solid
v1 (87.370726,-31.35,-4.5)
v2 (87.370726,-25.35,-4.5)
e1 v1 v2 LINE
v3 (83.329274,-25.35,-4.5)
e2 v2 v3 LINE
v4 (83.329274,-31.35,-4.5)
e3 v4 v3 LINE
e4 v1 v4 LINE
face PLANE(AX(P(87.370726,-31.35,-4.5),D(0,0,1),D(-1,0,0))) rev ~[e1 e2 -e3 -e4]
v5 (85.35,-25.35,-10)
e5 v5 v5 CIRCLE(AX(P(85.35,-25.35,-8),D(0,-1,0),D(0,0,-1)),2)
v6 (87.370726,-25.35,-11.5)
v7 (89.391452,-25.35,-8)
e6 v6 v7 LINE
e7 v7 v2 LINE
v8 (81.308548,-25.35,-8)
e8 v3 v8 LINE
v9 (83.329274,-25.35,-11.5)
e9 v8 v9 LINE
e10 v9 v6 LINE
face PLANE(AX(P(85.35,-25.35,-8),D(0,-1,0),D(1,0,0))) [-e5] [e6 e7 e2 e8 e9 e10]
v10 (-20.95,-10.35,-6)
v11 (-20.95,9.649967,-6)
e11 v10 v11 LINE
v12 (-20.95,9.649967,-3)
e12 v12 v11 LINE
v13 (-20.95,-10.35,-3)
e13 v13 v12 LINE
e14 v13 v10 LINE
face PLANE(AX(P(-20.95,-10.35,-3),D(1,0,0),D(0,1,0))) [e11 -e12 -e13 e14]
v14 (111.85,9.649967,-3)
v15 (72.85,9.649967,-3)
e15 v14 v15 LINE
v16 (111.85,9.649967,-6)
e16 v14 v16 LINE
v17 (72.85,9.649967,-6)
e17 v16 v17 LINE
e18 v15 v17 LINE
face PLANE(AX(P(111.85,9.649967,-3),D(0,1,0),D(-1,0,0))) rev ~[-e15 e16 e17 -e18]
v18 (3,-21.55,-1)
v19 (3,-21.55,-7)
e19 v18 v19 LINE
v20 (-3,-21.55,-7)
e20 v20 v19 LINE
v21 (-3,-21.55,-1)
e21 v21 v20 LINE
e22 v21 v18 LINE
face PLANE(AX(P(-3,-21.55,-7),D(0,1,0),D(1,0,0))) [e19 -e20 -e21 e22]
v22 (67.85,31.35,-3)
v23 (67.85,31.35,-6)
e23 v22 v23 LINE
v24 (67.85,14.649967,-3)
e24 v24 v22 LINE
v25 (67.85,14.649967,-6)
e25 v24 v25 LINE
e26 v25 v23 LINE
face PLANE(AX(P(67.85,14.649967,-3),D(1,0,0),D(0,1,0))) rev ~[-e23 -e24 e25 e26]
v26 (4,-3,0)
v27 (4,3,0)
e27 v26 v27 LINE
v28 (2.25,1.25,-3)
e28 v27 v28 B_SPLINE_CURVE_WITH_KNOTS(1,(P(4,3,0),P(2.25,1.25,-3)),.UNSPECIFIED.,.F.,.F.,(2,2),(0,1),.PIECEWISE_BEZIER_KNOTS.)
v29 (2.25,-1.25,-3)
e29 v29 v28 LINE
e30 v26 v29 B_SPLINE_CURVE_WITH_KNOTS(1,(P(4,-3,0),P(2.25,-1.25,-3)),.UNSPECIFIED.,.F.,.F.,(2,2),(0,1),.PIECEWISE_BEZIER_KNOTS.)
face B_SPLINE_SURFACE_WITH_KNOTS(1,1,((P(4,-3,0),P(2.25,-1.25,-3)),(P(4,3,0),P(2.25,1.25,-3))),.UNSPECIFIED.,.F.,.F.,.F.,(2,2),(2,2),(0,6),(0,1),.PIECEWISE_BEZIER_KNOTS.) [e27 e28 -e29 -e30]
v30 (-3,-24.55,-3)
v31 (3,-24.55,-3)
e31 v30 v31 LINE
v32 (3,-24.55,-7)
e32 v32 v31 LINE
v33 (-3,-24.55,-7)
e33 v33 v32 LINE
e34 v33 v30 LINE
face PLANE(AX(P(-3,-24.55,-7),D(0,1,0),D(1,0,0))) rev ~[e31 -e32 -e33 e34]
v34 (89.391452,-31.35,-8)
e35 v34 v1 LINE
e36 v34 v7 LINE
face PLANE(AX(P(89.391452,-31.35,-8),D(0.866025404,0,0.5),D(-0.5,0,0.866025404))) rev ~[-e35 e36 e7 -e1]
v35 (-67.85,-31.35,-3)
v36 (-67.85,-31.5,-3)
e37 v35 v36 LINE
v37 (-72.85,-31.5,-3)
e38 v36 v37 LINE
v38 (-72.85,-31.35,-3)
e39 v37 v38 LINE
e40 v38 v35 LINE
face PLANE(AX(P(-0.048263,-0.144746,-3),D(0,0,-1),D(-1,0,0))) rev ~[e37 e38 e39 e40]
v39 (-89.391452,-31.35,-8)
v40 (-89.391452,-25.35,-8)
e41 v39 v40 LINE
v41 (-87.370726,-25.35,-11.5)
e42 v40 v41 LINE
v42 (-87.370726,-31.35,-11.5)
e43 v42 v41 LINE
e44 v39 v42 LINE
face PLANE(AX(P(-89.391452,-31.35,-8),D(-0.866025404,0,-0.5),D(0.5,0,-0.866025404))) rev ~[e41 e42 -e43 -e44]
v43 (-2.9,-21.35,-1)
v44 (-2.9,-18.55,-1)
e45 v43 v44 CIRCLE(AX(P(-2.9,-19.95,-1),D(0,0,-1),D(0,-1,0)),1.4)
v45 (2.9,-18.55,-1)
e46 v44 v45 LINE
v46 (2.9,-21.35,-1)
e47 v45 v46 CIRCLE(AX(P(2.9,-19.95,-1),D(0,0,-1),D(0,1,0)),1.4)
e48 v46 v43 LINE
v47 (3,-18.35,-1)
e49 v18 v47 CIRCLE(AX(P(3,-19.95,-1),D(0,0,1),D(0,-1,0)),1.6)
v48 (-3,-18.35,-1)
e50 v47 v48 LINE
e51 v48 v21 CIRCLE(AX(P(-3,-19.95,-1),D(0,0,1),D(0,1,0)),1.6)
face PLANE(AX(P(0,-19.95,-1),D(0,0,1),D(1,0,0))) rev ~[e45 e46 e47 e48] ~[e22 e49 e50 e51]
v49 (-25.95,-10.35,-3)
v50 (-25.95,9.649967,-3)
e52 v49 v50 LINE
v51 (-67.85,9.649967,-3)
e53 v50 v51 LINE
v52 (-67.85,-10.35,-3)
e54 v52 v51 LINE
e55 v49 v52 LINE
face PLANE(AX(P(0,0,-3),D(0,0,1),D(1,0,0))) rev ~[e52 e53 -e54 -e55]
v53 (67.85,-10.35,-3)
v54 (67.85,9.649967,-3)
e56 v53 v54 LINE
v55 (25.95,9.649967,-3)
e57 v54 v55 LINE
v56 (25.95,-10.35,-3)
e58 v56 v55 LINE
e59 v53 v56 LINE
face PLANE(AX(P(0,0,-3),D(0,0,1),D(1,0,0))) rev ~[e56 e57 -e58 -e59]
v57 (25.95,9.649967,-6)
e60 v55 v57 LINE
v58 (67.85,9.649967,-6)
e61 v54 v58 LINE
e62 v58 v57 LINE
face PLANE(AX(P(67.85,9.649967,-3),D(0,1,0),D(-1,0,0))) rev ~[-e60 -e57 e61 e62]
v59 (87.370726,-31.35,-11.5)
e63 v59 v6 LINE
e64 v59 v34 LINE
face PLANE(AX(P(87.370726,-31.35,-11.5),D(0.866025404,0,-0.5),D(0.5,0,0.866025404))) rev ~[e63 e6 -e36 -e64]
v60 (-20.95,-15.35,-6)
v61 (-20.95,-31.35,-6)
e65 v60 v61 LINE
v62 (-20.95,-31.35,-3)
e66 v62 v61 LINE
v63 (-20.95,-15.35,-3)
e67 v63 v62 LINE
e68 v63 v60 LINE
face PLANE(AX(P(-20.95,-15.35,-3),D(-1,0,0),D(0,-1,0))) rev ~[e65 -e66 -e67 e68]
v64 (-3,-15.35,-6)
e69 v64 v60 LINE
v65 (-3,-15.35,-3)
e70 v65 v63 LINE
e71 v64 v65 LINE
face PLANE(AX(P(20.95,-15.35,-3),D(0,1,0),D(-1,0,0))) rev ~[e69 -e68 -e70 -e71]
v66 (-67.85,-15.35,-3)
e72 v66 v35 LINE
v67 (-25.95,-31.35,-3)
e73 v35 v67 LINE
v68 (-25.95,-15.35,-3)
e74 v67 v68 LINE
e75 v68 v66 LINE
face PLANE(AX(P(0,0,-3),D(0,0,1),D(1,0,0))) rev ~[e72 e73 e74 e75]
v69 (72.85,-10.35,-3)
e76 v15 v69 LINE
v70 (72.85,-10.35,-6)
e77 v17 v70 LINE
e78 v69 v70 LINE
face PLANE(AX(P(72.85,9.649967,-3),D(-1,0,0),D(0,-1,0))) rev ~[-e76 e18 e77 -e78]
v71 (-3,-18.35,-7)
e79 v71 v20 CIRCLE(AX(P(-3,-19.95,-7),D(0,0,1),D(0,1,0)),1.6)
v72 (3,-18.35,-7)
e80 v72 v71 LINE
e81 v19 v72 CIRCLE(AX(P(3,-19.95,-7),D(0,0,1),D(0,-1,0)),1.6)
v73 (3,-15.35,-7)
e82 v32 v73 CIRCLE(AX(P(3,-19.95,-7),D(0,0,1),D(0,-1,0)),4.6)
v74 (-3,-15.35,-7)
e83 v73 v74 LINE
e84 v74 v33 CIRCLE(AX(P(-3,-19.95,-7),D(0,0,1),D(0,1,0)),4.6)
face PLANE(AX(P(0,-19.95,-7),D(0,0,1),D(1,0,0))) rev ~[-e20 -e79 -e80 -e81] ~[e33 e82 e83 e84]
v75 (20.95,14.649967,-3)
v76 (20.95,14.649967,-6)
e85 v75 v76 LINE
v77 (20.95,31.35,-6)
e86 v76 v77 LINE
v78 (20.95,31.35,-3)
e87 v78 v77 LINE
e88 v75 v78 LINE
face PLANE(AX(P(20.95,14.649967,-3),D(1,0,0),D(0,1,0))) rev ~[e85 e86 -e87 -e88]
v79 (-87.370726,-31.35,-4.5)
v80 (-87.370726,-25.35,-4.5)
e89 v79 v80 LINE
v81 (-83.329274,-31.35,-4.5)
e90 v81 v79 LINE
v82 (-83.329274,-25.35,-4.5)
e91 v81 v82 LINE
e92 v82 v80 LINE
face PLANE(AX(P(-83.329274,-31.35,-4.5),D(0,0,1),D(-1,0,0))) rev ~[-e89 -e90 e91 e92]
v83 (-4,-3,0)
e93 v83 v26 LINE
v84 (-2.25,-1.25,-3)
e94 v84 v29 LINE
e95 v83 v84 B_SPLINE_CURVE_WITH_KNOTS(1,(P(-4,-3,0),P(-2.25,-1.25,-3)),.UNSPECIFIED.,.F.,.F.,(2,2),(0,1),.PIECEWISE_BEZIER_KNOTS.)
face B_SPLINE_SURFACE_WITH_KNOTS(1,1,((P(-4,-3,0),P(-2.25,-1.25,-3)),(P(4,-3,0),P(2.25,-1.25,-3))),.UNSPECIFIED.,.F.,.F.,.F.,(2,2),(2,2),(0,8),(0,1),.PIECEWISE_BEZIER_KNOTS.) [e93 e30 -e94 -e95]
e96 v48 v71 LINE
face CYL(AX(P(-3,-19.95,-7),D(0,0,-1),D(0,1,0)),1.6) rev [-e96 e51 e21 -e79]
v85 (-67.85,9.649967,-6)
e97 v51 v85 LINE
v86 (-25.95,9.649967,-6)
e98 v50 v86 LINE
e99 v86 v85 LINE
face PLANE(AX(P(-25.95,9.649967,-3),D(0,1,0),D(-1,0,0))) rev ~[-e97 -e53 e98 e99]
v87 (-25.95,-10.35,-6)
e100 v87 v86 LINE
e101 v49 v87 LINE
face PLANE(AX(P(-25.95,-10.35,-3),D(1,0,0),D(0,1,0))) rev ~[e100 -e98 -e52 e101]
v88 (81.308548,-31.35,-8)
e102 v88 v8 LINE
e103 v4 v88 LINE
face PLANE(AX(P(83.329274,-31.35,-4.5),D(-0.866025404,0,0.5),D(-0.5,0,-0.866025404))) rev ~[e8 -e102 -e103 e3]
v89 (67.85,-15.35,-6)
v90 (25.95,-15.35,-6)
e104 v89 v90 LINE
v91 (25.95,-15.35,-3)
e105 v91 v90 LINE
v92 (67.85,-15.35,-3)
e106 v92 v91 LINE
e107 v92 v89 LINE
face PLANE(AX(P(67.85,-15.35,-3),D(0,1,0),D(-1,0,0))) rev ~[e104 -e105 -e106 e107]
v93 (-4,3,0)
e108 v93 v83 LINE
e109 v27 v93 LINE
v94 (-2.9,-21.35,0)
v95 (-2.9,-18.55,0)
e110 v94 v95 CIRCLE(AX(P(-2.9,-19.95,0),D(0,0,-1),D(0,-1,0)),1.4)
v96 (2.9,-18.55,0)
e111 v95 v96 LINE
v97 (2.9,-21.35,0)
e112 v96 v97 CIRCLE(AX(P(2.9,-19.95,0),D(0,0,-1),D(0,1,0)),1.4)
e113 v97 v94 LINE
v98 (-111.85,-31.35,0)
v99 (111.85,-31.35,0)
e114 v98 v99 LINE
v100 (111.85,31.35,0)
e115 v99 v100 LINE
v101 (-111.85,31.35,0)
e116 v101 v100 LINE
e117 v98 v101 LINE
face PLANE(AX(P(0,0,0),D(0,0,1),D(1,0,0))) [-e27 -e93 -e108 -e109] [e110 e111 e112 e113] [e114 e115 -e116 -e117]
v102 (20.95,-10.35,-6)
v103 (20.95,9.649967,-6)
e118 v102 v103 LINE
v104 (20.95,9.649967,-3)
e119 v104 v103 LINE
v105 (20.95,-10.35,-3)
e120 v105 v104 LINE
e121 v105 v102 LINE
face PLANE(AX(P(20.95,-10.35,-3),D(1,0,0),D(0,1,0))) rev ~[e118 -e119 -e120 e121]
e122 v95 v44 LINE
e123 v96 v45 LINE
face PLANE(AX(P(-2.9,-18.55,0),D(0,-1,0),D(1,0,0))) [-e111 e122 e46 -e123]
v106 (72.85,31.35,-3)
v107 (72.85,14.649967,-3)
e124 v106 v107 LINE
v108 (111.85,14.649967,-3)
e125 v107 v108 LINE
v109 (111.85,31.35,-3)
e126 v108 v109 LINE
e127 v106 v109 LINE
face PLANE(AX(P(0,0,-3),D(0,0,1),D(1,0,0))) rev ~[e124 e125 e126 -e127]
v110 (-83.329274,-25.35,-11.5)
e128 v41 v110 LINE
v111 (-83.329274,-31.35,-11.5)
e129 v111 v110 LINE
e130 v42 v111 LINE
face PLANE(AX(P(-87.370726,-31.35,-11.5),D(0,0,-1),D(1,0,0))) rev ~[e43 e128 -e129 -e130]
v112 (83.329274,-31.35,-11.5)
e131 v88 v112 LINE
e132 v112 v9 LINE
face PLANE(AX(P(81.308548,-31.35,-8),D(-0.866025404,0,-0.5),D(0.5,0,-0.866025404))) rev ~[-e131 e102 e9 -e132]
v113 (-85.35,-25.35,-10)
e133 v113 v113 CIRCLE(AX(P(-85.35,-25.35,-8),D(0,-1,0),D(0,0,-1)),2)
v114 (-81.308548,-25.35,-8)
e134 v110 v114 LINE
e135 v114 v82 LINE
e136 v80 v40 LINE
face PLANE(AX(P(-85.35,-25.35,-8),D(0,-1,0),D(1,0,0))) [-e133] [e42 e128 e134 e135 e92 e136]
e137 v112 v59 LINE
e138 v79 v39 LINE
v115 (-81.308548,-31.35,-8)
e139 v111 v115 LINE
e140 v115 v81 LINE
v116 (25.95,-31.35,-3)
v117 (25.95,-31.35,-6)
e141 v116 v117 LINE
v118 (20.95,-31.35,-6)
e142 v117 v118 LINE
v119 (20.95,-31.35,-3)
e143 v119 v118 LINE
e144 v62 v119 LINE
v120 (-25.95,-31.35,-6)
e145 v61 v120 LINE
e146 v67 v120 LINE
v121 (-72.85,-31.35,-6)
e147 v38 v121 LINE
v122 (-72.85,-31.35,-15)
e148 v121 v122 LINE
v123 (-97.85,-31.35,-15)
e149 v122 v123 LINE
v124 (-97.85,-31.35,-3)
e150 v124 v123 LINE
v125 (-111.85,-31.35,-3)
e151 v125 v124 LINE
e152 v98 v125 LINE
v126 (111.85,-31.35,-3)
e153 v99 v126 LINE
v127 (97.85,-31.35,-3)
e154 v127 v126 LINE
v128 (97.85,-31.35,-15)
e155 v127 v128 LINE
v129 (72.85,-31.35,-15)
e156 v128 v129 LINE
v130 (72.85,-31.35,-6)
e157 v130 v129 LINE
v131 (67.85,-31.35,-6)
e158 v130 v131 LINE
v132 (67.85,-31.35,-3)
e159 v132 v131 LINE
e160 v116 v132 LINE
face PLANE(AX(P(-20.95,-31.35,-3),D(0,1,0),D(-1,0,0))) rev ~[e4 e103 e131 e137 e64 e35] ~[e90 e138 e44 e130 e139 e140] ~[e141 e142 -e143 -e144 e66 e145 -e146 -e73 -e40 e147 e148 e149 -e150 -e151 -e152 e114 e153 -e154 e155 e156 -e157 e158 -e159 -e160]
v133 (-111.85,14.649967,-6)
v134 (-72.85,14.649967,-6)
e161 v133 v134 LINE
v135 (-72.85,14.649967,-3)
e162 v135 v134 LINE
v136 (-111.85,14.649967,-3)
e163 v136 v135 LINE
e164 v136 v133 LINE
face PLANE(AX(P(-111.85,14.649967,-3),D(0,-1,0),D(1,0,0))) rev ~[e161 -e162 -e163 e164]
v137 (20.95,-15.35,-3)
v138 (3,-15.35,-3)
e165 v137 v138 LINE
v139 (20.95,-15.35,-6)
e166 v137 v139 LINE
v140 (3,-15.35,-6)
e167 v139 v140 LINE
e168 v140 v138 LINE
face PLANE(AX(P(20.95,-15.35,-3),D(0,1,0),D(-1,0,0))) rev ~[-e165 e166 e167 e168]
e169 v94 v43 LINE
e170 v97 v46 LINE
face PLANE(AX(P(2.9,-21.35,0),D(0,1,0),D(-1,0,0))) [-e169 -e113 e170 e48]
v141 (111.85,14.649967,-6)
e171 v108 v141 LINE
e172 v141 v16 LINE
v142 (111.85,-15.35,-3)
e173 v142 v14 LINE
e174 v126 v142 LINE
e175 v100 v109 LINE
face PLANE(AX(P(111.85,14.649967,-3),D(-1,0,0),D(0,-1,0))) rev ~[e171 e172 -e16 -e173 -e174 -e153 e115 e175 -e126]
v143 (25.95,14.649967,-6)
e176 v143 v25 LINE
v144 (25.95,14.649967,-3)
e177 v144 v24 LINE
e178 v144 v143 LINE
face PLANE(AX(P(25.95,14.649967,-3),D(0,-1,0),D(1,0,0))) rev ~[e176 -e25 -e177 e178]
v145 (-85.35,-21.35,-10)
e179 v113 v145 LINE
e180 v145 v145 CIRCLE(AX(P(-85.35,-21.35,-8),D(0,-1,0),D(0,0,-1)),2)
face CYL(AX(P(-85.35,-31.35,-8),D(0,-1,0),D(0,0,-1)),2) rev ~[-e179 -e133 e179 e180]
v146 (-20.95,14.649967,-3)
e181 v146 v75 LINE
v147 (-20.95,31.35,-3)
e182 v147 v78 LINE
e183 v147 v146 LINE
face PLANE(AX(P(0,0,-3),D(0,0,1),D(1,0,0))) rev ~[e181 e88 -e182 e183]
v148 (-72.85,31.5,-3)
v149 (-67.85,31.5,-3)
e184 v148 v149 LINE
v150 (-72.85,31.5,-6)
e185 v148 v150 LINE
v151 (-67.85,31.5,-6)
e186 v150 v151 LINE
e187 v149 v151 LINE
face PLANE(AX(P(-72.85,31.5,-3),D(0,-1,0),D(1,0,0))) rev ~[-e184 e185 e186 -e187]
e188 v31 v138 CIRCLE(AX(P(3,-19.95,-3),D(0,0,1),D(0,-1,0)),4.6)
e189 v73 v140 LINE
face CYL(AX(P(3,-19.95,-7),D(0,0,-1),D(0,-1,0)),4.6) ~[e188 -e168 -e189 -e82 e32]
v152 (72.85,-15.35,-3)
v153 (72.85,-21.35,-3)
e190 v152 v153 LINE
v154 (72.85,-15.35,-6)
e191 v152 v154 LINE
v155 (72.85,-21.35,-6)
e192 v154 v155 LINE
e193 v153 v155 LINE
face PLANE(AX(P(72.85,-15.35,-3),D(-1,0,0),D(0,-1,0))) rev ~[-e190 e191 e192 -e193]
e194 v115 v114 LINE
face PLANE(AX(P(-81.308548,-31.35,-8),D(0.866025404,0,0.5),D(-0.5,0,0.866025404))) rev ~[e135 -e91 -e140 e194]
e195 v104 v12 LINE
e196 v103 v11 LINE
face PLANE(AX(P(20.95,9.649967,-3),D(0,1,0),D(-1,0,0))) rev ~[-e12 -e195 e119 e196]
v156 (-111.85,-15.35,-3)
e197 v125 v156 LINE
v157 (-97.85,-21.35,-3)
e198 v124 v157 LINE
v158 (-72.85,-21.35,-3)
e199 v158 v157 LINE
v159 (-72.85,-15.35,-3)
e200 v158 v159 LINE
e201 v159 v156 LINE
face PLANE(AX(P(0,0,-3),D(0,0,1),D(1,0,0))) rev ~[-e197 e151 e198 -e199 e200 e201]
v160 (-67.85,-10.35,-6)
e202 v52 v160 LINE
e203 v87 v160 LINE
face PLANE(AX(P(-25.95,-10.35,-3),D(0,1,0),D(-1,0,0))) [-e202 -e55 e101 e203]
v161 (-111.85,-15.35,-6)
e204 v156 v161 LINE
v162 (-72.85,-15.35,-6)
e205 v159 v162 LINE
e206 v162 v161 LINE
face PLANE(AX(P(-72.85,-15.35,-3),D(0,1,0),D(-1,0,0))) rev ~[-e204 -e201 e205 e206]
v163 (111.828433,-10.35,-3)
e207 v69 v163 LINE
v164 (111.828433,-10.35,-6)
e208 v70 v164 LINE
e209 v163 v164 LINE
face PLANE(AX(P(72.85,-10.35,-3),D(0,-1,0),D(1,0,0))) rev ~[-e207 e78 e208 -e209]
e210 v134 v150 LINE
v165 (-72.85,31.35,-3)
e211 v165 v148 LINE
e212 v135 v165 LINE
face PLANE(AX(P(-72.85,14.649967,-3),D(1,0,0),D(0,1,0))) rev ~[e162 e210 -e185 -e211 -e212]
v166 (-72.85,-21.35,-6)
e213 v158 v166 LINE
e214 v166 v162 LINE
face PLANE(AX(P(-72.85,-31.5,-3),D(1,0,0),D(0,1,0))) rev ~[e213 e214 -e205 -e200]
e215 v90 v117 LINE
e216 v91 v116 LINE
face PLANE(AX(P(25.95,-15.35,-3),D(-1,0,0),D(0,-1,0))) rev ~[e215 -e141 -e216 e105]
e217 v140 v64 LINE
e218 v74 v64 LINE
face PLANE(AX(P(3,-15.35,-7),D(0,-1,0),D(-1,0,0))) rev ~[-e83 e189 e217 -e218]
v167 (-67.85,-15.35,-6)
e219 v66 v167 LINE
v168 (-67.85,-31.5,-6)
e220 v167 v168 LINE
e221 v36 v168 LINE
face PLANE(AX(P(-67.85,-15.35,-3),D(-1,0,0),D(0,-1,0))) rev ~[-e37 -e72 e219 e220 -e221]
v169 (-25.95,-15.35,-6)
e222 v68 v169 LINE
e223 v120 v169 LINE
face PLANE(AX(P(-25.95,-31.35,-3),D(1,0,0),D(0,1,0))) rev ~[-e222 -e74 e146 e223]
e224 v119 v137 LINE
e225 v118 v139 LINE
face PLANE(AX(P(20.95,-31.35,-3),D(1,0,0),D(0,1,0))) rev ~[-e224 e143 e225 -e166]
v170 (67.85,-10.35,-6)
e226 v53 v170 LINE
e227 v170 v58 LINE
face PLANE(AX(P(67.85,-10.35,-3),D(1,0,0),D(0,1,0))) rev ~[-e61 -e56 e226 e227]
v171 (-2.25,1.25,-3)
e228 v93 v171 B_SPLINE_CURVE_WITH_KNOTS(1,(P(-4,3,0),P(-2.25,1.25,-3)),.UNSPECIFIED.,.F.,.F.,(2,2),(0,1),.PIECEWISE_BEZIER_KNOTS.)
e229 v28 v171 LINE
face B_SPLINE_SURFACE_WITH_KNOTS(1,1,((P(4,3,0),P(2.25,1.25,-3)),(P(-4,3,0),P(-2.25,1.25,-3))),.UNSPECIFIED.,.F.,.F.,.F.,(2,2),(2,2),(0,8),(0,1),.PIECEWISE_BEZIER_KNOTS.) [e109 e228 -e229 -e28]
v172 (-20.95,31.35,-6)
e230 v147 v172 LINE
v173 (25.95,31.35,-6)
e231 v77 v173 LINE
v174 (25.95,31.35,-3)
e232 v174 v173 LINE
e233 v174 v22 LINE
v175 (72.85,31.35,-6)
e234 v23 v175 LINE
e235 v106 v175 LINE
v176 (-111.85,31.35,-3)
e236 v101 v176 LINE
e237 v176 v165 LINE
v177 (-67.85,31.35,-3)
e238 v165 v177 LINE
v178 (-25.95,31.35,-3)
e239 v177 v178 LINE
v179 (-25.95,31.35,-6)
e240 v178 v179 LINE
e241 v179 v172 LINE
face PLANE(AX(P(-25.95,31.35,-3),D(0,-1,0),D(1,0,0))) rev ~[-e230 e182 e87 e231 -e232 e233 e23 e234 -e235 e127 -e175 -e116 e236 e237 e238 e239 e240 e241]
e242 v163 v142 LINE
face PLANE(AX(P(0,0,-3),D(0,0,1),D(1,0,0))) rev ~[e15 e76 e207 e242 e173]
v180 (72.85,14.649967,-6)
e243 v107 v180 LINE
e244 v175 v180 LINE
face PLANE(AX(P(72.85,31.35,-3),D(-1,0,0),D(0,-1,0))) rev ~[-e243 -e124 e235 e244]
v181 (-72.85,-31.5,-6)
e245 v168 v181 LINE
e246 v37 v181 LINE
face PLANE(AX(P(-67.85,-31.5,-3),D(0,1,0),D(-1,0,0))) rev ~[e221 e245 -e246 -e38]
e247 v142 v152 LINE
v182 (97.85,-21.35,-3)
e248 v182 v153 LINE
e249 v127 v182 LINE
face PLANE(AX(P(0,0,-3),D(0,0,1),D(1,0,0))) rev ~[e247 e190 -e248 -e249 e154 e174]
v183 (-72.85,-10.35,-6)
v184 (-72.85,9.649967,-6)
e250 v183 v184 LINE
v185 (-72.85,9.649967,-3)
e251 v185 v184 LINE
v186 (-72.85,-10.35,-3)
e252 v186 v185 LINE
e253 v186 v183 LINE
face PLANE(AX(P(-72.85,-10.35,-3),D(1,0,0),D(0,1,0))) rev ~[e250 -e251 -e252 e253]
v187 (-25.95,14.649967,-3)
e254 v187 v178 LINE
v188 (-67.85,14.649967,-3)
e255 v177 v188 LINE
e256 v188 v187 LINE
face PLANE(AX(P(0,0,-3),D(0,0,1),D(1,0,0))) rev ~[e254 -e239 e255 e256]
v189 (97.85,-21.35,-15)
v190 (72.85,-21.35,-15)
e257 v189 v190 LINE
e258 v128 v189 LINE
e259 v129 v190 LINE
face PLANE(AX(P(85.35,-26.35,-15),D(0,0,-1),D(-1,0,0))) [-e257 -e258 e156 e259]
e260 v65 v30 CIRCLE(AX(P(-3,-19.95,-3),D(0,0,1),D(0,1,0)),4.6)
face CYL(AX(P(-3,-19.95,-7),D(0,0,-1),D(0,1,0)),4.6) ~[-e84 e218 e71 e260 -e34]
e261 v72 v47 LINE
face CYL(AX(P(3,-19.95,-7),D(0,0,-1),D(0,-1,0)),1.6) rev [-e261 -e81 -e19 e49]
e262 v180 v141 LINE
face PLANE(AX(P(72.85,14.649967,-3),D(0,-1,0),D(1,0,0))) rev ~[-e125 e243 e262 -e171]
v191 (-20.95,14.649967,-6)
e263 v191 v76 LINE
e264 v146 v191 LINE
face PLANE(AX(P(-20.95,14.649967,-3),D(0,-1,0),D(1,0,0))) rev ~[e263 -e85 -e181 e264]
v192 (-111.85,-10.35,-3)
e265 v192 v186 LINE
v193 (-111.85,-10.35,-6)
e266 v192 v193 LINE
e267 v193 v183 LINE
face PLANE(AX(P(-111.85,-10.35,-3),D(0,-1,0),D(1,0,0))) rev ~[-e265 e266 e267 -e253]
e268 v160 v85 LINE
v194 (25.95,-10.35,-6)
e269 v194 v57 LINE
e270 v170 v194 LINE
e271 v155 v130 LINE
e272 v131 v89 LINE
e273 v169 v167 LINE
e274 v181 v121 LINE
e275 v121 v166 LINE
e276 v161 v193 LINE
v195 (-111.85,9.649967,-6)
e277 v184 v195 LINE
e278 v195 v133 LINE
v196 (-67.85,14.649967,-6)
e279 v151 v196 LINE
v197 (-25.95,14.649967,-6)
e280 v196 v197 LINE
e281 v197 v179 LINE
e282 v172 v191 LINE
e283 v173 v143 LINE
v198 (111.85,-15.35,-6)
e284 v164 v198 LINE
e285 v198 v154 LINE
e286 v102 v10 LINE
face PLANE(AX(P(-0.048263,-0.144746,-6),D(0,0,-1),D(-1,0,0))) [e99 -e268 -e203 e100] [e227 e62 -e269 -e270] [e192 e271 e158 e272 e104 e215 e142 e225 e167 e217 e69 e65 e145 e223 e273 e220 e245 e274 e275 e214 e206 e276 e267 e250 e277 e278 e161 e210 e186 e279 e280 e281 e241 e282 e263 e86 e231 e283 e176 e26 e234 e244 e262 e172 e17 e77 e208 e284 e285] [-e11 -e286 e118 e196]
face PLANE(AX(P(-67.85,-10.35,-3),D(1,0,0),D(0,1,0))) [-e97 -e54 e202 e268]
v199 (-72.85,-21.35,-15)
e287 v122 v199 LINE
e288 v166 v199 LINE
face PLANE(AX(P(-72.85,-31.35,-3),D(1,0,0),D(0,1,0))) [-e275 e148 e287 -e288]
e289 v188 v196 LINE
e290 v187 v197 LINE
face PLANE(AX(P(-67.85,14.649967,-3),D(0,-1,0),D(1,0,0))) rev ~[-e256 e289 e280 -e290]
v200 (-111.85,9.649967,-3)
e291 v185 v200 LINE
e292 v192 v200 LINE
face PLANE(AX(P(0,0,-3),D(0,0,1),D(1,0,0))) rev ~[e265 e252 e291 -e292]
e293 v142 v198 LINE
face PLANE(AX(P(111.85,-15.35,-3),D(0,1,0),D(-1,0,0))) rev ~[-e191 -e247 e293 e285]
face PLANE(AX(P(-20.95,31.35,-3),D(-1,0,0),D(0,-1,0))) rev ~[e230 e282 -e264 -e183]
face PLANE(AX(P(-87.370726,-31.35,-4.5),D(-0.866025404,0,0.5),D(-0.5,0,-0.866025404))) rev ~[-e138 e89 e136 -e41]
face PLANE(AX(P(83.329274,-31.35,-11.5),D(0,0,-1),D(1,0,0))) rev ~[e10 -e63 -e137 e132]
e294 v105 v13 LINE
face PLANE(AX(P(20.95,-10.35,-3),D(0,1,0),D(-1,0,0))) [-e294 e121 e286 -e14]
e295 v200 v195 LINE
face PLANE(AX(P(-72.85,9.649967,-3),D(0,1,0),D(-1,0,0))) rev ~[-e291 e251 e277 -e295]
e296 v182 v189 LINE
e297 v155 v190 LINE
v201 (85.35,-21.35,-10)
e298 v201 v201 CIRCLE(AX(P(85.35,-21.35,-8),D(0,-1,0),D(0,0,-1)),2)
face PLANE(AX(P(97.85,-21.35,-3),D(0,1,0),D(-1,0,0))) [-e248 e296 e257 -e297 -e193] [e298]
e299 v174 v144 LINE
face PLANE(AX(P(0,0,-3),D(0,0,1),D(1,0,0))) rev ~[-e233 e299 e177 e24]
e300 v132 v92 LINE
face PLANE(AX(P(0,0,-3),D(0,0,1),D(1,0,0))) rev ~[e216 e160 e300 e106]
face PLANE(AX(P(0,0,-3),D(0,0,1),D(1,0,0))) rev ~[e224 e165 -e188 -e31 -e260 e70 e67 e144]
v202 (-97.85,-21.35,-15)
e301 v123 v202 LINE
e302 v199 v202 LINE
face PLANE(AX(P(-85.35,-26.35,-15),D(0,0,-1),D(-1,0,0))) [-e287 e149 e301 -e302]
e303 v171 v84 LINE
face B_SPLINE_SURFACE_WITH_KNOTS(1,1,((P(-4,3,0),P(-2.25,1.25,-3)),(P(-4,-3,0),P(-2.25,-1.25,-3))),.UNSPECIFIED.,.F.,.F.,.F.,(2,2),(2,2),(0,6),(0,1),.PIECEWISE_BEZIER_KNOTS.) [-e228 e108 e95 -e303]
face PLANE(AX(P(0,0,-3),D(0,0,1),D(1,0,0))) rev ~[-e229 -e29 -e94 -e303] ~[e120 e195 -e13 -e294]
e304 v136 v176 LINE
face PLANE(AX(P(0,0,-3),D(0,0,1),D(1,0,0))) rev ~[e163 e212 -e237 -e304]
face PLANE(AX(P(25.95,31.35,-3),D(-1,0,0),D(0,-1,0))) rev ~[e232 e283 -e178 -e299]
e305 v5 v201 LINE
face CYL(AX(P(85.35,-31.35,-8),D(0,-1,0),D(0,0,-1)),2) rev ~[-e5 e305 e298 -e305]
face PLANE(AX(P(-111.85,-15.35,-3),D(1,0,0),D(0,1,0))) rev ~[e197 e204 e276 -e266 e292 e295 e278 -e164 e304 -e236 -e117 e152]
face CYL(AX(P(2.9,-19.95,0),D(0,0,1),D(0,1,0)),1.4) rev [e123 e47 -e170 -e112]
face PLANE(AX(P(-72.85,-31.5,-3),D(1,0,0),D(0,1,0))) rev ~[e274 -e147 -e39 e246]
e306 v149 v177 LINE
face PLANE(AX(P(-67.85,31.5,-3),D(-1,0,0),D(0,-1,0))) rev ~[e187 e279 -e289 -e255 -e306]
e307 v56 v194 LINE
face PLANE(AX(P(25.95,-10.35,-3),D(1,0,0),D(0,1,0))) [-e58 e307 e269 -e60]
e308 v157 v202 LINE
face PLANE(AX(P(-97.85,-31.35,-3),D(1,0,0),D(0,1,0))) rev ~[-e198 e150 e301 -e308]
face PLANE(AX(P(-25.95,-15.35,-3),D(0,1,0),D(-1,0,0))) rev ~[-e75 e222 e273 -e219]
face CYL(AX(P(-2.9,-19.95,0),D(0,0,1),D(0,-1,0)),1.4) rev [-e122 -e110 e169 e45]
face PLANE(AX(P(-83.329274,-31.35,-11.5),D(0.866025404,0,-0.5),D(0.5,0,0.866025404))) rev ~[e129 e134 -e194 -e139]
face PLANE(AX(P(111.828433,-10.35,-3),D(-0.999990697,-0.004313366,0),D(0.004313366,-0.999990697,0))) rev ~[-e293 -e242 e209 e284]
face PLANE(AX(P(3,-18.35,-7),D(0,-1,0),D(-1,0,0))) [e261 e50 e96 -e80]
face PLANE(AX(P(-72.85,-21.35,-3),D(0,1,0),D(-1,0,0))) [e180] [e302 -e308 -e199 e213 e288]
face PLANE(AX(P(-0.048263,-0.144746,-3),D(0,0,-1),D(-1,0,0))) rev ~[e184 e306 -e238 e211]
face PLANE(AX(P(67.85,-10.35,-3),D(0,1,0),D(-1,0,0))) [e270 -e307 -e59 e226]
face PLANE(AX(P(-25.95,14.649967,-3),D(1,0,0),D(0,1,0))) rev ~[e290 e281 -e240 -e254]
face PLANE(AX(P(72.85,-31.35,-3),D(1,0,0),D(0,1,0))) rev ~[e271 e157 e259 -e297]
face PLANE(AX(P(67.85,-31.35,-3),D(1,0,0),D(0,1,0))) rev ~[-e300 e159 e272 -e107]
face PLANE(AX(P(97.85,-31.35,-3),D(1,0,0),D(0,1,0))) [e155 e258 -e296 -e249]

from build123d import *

# Parameters (mm, degrees)
SKETCH_1_W          = 223.7
SKETCH_1_H          = 62.7
EXTRUDE_1_DEPTH     = 3
CUT_EXTRUDE_1_DEPTH = 1
CUT_EXTRUDE_3_DEPTH = 2
EXTRUDE_START       = 4
EXTRUDE_1_2_DEPTH   = 4
SKETCH_13_W         = 25
SKETCH_13_H         = 10
EXTRUDE_2_DEPTH     = 12
SKETCH_14_W         = 41.9
SKETCH_14_H         = 19.999967379
EXTRUDE_3_DEPTH     = 3
SKETCH_15_R         = 2
CUT_EXTRUDE_4_DEPTH = 10
CUT_EXTRUDE_5_DEPTH = 6


with BuildPart() as part:
    # 草图1 → Extrude 1 (new body)
    with BuildSketch(Plane.XY):
        Rectangle(SKETCH_1_W, SKETCH_1_H)
    extrude(amount=-EXTRUDE_1_DEPTH)

    # 草图2 → 切除-拉伸1 (cut)
    with BuildSketch(Plane.XY):
        with BuildLine():
            Line((-2.9, -18.55), (2.9, -18.55))
            ThreePointArc((2.9, -18.55), (4.3, -19.95), (2.9, -21.35))
            Line((2.9, -21.35), (-2.9, -21.35))
            ThreePointArc((-2.9, -21.35), (-4.3, -19.95), (-2.9, -18.55))
        make_face()
    extrude(amount=-CUT_EXTRUDE_1_DEPTH, mode=Mode.SUBTRACT)

    # 草图5 → 切除-拉伸3 (cut)
    with BuildSketch(Plane(origin=(0, 0, -3), x_dir=(-1, 0, 0), z_dir=(0, 0, -1))):
        with BuildLine():
            Line((3, -21.55), (-3, -21.55))
            ThreePointArc((-3, -21.55), (-4.6, -19.95), (-3, -18.35))
            Line((-3, -18.35), (3, -18.35))
            ThreePointArc((3, -18.35), (4.6, -19.95), (3, -21.55))
        make_face()
    extrude(amount=-CUT_EXTRUDE_3_DEPTH, mode=Mode.SUBTRACT)

    # 草图5<2> → Extrude 1 2 (add)
    with BuildSketch(Plane(origin=(0, 0, -3), x_dir=(-1, 0, 0), z_dir=(0, 0, -1)).offset(EXTRUDE_START)):
        with BuildLine():
            Line((-3, -15.35), (3, -15.35))
            ThreePointArc((3, -15.35), (7.6, -19.95), (3, -24.55))
            Line((3, -24.55), (-3, -24.55))
            ThreePointArc((-3, -24.55), (-7.6, -19.95), (-3, -15.35))
        make_face()
        with BuildLine():
            Line((-3, -18.35), (3, -18.35))
            ThreePointArc((3, -18.35), (4.6, -19.95), (3, -21.55))
            Line((3, -21.55), (-3, -21.55))
            ThreePointArc((-3, -21.55), (-4.6, -19.95), (-3, -18.35))
        make_face(mode=Mode.SUBTRACT)
    extrude(amount=-EXTRUDE_1_2_DEPTH)

    # 草图11 → 切除-放样1 section 0
    with BuildSketch(Plane.XY):
        with BuildLine():
            Line((-4, -3), (4, -3))
            Line((4, -3), (4, 3))
            Line((4, 3), (-4, 3))
            Line((-4, 3), (-4, -3))
        make_face()
    # 草图12 → 切除-放样1 section 1
    with BuildSketch(Plane(origin=(0, 0, -3), x_dir=(-1, 0, 0), z_dir=(0, 0, -1))):
        with BuildLine():
            Line((-2.25, 1.25), (2.25, 1.25))
            Line((2.25, 1.25), (2.25, -1.25))
            Line((2.25, -1.25), (-2.25, -1.25))
            Line((-2.25, -1.25), (-2.25, 1.25))
        make_face()
    loft(mode=Mode.SUBTRACT)

    # 草图13 → 凸台-拉伸2 (add)
    with BuildSketch(Plane(origin=(0, 0, -3), x_dir=(-1, 0, 0), z_dir=(0, 0, -1))):
        with Locations((85.35, -26.35)):
            Rectangle(SKETCH_13_W, SKETCH_13_H)
        with Locations((-85.35, -26.35)):
            Rectangle(SKETCH_13_W, SKETCH_13_H)
    extrude(amount=EXTRUDE_2_DEPTH)

    # 草图14 → 凸台-拉伸3 (add)
    with BuildSketch(Plane(origin=(0, 0, -3), x_dir=(-1, 0, 0), z_dir=(0, 0, -1))):
        Polygon((-111.85, 14.649967379), (-111.85, 9.649967379), (-72.85, 9.649967379), (-72.85, -10.35), (-111.82843297, -10.35), (-111.85, -15.35), (-72.85, -15.35), (-72.85, -31.35), (-67.85, -31.35), (-67.85, -15.35), (-25.95, -15.35), (-25.95, -31.35), (-20.95, -31.35), (-20.95, -15.35), (20.95, -15.35), (20.95, -31.35), (25.95, -31.35), (25.95, -15.35), (67.85, -15.35), (67.85, -31.5), (72.85, -31.5), (72.85, -15.35), (111.85, -15.35), (111.85, -10.35), (72.85, -10.35), (72.85, 9.649967379), (111.85, 9.649967379), (111.85, 14.649967379), (72.85, 14.649967379), (72.85, 31.5), (67.85, 31.5), (67.85, 14.649967379), (25.95, 14.649967379), (25.95, 31.35), (20.95, 31.35), (20.95, 14.649967379), (-20.95, 14.649967379), (-20.95, 31.35), (-25.95, 31.35), (-25.95, 14.649967379), (-67.85, 14.649967379), (-67.85, 31.35), (-72.85, 31.35), (-72.85, 14.649967379), align=None)
        with Locations((-46.9, -0.350016311)):
            Rectangle(SKETCH_14_W, SKETCH_14_H, mode=Mode.SUBTRACT)
        with Locations((0, -0.350016311)):
            Rectangle(SKETCH_14_W, SKETCH_14_H, mode=Mode.SUBTRACT)
        with Locations((46.9, -0.350016311)):
            Rectangle(SKETCH_14_W, SKETCH_14_H, mode=Mode.SUBTRACT)
    extrude(amount=EXTRUDE_3_DEPTH)

    # 草图15 → 切除-拉伸4 (cut)
    with BuildSketch(Plane(origin=(0, -31.35, 0), x_dir=(-1, 0, 0), z_dir=(0, -1, 0))):
        with Locations((85.35, 8)):
            Circle(SKETCH_15_R)
        with Locations((-85.35, 8)):
            Circle(SKETCH_15_R)
    extrude(amount=-CUT_EXTRUDE_4_DEPTH, mode=Mode.SUBTRACT)

    # 草图16 → 切除-拉伸5 (cut)
    with BuildSketch(Plane.XZ.offset(31.35)):
        Polygon((-83.329274058, -11.5), (-81.308548116, -8), (-83.329274058, -4.5), (-87.370725942, -4.5), (-89.391451884, -8), (-87.370725942, -11.5), align=None)
        Polygon((87.370725942, -11.5), (89.391451884, -8), (87.370725942, -4.5), (83.329274058, -4.5), (81.308548116, -8), (83.329274058, -11.5), align=None)
    extrude(amount=-CUT_EXTRUDE_5_DEPTH, mode=Mode.SUBTRACT)


solid = part.part
